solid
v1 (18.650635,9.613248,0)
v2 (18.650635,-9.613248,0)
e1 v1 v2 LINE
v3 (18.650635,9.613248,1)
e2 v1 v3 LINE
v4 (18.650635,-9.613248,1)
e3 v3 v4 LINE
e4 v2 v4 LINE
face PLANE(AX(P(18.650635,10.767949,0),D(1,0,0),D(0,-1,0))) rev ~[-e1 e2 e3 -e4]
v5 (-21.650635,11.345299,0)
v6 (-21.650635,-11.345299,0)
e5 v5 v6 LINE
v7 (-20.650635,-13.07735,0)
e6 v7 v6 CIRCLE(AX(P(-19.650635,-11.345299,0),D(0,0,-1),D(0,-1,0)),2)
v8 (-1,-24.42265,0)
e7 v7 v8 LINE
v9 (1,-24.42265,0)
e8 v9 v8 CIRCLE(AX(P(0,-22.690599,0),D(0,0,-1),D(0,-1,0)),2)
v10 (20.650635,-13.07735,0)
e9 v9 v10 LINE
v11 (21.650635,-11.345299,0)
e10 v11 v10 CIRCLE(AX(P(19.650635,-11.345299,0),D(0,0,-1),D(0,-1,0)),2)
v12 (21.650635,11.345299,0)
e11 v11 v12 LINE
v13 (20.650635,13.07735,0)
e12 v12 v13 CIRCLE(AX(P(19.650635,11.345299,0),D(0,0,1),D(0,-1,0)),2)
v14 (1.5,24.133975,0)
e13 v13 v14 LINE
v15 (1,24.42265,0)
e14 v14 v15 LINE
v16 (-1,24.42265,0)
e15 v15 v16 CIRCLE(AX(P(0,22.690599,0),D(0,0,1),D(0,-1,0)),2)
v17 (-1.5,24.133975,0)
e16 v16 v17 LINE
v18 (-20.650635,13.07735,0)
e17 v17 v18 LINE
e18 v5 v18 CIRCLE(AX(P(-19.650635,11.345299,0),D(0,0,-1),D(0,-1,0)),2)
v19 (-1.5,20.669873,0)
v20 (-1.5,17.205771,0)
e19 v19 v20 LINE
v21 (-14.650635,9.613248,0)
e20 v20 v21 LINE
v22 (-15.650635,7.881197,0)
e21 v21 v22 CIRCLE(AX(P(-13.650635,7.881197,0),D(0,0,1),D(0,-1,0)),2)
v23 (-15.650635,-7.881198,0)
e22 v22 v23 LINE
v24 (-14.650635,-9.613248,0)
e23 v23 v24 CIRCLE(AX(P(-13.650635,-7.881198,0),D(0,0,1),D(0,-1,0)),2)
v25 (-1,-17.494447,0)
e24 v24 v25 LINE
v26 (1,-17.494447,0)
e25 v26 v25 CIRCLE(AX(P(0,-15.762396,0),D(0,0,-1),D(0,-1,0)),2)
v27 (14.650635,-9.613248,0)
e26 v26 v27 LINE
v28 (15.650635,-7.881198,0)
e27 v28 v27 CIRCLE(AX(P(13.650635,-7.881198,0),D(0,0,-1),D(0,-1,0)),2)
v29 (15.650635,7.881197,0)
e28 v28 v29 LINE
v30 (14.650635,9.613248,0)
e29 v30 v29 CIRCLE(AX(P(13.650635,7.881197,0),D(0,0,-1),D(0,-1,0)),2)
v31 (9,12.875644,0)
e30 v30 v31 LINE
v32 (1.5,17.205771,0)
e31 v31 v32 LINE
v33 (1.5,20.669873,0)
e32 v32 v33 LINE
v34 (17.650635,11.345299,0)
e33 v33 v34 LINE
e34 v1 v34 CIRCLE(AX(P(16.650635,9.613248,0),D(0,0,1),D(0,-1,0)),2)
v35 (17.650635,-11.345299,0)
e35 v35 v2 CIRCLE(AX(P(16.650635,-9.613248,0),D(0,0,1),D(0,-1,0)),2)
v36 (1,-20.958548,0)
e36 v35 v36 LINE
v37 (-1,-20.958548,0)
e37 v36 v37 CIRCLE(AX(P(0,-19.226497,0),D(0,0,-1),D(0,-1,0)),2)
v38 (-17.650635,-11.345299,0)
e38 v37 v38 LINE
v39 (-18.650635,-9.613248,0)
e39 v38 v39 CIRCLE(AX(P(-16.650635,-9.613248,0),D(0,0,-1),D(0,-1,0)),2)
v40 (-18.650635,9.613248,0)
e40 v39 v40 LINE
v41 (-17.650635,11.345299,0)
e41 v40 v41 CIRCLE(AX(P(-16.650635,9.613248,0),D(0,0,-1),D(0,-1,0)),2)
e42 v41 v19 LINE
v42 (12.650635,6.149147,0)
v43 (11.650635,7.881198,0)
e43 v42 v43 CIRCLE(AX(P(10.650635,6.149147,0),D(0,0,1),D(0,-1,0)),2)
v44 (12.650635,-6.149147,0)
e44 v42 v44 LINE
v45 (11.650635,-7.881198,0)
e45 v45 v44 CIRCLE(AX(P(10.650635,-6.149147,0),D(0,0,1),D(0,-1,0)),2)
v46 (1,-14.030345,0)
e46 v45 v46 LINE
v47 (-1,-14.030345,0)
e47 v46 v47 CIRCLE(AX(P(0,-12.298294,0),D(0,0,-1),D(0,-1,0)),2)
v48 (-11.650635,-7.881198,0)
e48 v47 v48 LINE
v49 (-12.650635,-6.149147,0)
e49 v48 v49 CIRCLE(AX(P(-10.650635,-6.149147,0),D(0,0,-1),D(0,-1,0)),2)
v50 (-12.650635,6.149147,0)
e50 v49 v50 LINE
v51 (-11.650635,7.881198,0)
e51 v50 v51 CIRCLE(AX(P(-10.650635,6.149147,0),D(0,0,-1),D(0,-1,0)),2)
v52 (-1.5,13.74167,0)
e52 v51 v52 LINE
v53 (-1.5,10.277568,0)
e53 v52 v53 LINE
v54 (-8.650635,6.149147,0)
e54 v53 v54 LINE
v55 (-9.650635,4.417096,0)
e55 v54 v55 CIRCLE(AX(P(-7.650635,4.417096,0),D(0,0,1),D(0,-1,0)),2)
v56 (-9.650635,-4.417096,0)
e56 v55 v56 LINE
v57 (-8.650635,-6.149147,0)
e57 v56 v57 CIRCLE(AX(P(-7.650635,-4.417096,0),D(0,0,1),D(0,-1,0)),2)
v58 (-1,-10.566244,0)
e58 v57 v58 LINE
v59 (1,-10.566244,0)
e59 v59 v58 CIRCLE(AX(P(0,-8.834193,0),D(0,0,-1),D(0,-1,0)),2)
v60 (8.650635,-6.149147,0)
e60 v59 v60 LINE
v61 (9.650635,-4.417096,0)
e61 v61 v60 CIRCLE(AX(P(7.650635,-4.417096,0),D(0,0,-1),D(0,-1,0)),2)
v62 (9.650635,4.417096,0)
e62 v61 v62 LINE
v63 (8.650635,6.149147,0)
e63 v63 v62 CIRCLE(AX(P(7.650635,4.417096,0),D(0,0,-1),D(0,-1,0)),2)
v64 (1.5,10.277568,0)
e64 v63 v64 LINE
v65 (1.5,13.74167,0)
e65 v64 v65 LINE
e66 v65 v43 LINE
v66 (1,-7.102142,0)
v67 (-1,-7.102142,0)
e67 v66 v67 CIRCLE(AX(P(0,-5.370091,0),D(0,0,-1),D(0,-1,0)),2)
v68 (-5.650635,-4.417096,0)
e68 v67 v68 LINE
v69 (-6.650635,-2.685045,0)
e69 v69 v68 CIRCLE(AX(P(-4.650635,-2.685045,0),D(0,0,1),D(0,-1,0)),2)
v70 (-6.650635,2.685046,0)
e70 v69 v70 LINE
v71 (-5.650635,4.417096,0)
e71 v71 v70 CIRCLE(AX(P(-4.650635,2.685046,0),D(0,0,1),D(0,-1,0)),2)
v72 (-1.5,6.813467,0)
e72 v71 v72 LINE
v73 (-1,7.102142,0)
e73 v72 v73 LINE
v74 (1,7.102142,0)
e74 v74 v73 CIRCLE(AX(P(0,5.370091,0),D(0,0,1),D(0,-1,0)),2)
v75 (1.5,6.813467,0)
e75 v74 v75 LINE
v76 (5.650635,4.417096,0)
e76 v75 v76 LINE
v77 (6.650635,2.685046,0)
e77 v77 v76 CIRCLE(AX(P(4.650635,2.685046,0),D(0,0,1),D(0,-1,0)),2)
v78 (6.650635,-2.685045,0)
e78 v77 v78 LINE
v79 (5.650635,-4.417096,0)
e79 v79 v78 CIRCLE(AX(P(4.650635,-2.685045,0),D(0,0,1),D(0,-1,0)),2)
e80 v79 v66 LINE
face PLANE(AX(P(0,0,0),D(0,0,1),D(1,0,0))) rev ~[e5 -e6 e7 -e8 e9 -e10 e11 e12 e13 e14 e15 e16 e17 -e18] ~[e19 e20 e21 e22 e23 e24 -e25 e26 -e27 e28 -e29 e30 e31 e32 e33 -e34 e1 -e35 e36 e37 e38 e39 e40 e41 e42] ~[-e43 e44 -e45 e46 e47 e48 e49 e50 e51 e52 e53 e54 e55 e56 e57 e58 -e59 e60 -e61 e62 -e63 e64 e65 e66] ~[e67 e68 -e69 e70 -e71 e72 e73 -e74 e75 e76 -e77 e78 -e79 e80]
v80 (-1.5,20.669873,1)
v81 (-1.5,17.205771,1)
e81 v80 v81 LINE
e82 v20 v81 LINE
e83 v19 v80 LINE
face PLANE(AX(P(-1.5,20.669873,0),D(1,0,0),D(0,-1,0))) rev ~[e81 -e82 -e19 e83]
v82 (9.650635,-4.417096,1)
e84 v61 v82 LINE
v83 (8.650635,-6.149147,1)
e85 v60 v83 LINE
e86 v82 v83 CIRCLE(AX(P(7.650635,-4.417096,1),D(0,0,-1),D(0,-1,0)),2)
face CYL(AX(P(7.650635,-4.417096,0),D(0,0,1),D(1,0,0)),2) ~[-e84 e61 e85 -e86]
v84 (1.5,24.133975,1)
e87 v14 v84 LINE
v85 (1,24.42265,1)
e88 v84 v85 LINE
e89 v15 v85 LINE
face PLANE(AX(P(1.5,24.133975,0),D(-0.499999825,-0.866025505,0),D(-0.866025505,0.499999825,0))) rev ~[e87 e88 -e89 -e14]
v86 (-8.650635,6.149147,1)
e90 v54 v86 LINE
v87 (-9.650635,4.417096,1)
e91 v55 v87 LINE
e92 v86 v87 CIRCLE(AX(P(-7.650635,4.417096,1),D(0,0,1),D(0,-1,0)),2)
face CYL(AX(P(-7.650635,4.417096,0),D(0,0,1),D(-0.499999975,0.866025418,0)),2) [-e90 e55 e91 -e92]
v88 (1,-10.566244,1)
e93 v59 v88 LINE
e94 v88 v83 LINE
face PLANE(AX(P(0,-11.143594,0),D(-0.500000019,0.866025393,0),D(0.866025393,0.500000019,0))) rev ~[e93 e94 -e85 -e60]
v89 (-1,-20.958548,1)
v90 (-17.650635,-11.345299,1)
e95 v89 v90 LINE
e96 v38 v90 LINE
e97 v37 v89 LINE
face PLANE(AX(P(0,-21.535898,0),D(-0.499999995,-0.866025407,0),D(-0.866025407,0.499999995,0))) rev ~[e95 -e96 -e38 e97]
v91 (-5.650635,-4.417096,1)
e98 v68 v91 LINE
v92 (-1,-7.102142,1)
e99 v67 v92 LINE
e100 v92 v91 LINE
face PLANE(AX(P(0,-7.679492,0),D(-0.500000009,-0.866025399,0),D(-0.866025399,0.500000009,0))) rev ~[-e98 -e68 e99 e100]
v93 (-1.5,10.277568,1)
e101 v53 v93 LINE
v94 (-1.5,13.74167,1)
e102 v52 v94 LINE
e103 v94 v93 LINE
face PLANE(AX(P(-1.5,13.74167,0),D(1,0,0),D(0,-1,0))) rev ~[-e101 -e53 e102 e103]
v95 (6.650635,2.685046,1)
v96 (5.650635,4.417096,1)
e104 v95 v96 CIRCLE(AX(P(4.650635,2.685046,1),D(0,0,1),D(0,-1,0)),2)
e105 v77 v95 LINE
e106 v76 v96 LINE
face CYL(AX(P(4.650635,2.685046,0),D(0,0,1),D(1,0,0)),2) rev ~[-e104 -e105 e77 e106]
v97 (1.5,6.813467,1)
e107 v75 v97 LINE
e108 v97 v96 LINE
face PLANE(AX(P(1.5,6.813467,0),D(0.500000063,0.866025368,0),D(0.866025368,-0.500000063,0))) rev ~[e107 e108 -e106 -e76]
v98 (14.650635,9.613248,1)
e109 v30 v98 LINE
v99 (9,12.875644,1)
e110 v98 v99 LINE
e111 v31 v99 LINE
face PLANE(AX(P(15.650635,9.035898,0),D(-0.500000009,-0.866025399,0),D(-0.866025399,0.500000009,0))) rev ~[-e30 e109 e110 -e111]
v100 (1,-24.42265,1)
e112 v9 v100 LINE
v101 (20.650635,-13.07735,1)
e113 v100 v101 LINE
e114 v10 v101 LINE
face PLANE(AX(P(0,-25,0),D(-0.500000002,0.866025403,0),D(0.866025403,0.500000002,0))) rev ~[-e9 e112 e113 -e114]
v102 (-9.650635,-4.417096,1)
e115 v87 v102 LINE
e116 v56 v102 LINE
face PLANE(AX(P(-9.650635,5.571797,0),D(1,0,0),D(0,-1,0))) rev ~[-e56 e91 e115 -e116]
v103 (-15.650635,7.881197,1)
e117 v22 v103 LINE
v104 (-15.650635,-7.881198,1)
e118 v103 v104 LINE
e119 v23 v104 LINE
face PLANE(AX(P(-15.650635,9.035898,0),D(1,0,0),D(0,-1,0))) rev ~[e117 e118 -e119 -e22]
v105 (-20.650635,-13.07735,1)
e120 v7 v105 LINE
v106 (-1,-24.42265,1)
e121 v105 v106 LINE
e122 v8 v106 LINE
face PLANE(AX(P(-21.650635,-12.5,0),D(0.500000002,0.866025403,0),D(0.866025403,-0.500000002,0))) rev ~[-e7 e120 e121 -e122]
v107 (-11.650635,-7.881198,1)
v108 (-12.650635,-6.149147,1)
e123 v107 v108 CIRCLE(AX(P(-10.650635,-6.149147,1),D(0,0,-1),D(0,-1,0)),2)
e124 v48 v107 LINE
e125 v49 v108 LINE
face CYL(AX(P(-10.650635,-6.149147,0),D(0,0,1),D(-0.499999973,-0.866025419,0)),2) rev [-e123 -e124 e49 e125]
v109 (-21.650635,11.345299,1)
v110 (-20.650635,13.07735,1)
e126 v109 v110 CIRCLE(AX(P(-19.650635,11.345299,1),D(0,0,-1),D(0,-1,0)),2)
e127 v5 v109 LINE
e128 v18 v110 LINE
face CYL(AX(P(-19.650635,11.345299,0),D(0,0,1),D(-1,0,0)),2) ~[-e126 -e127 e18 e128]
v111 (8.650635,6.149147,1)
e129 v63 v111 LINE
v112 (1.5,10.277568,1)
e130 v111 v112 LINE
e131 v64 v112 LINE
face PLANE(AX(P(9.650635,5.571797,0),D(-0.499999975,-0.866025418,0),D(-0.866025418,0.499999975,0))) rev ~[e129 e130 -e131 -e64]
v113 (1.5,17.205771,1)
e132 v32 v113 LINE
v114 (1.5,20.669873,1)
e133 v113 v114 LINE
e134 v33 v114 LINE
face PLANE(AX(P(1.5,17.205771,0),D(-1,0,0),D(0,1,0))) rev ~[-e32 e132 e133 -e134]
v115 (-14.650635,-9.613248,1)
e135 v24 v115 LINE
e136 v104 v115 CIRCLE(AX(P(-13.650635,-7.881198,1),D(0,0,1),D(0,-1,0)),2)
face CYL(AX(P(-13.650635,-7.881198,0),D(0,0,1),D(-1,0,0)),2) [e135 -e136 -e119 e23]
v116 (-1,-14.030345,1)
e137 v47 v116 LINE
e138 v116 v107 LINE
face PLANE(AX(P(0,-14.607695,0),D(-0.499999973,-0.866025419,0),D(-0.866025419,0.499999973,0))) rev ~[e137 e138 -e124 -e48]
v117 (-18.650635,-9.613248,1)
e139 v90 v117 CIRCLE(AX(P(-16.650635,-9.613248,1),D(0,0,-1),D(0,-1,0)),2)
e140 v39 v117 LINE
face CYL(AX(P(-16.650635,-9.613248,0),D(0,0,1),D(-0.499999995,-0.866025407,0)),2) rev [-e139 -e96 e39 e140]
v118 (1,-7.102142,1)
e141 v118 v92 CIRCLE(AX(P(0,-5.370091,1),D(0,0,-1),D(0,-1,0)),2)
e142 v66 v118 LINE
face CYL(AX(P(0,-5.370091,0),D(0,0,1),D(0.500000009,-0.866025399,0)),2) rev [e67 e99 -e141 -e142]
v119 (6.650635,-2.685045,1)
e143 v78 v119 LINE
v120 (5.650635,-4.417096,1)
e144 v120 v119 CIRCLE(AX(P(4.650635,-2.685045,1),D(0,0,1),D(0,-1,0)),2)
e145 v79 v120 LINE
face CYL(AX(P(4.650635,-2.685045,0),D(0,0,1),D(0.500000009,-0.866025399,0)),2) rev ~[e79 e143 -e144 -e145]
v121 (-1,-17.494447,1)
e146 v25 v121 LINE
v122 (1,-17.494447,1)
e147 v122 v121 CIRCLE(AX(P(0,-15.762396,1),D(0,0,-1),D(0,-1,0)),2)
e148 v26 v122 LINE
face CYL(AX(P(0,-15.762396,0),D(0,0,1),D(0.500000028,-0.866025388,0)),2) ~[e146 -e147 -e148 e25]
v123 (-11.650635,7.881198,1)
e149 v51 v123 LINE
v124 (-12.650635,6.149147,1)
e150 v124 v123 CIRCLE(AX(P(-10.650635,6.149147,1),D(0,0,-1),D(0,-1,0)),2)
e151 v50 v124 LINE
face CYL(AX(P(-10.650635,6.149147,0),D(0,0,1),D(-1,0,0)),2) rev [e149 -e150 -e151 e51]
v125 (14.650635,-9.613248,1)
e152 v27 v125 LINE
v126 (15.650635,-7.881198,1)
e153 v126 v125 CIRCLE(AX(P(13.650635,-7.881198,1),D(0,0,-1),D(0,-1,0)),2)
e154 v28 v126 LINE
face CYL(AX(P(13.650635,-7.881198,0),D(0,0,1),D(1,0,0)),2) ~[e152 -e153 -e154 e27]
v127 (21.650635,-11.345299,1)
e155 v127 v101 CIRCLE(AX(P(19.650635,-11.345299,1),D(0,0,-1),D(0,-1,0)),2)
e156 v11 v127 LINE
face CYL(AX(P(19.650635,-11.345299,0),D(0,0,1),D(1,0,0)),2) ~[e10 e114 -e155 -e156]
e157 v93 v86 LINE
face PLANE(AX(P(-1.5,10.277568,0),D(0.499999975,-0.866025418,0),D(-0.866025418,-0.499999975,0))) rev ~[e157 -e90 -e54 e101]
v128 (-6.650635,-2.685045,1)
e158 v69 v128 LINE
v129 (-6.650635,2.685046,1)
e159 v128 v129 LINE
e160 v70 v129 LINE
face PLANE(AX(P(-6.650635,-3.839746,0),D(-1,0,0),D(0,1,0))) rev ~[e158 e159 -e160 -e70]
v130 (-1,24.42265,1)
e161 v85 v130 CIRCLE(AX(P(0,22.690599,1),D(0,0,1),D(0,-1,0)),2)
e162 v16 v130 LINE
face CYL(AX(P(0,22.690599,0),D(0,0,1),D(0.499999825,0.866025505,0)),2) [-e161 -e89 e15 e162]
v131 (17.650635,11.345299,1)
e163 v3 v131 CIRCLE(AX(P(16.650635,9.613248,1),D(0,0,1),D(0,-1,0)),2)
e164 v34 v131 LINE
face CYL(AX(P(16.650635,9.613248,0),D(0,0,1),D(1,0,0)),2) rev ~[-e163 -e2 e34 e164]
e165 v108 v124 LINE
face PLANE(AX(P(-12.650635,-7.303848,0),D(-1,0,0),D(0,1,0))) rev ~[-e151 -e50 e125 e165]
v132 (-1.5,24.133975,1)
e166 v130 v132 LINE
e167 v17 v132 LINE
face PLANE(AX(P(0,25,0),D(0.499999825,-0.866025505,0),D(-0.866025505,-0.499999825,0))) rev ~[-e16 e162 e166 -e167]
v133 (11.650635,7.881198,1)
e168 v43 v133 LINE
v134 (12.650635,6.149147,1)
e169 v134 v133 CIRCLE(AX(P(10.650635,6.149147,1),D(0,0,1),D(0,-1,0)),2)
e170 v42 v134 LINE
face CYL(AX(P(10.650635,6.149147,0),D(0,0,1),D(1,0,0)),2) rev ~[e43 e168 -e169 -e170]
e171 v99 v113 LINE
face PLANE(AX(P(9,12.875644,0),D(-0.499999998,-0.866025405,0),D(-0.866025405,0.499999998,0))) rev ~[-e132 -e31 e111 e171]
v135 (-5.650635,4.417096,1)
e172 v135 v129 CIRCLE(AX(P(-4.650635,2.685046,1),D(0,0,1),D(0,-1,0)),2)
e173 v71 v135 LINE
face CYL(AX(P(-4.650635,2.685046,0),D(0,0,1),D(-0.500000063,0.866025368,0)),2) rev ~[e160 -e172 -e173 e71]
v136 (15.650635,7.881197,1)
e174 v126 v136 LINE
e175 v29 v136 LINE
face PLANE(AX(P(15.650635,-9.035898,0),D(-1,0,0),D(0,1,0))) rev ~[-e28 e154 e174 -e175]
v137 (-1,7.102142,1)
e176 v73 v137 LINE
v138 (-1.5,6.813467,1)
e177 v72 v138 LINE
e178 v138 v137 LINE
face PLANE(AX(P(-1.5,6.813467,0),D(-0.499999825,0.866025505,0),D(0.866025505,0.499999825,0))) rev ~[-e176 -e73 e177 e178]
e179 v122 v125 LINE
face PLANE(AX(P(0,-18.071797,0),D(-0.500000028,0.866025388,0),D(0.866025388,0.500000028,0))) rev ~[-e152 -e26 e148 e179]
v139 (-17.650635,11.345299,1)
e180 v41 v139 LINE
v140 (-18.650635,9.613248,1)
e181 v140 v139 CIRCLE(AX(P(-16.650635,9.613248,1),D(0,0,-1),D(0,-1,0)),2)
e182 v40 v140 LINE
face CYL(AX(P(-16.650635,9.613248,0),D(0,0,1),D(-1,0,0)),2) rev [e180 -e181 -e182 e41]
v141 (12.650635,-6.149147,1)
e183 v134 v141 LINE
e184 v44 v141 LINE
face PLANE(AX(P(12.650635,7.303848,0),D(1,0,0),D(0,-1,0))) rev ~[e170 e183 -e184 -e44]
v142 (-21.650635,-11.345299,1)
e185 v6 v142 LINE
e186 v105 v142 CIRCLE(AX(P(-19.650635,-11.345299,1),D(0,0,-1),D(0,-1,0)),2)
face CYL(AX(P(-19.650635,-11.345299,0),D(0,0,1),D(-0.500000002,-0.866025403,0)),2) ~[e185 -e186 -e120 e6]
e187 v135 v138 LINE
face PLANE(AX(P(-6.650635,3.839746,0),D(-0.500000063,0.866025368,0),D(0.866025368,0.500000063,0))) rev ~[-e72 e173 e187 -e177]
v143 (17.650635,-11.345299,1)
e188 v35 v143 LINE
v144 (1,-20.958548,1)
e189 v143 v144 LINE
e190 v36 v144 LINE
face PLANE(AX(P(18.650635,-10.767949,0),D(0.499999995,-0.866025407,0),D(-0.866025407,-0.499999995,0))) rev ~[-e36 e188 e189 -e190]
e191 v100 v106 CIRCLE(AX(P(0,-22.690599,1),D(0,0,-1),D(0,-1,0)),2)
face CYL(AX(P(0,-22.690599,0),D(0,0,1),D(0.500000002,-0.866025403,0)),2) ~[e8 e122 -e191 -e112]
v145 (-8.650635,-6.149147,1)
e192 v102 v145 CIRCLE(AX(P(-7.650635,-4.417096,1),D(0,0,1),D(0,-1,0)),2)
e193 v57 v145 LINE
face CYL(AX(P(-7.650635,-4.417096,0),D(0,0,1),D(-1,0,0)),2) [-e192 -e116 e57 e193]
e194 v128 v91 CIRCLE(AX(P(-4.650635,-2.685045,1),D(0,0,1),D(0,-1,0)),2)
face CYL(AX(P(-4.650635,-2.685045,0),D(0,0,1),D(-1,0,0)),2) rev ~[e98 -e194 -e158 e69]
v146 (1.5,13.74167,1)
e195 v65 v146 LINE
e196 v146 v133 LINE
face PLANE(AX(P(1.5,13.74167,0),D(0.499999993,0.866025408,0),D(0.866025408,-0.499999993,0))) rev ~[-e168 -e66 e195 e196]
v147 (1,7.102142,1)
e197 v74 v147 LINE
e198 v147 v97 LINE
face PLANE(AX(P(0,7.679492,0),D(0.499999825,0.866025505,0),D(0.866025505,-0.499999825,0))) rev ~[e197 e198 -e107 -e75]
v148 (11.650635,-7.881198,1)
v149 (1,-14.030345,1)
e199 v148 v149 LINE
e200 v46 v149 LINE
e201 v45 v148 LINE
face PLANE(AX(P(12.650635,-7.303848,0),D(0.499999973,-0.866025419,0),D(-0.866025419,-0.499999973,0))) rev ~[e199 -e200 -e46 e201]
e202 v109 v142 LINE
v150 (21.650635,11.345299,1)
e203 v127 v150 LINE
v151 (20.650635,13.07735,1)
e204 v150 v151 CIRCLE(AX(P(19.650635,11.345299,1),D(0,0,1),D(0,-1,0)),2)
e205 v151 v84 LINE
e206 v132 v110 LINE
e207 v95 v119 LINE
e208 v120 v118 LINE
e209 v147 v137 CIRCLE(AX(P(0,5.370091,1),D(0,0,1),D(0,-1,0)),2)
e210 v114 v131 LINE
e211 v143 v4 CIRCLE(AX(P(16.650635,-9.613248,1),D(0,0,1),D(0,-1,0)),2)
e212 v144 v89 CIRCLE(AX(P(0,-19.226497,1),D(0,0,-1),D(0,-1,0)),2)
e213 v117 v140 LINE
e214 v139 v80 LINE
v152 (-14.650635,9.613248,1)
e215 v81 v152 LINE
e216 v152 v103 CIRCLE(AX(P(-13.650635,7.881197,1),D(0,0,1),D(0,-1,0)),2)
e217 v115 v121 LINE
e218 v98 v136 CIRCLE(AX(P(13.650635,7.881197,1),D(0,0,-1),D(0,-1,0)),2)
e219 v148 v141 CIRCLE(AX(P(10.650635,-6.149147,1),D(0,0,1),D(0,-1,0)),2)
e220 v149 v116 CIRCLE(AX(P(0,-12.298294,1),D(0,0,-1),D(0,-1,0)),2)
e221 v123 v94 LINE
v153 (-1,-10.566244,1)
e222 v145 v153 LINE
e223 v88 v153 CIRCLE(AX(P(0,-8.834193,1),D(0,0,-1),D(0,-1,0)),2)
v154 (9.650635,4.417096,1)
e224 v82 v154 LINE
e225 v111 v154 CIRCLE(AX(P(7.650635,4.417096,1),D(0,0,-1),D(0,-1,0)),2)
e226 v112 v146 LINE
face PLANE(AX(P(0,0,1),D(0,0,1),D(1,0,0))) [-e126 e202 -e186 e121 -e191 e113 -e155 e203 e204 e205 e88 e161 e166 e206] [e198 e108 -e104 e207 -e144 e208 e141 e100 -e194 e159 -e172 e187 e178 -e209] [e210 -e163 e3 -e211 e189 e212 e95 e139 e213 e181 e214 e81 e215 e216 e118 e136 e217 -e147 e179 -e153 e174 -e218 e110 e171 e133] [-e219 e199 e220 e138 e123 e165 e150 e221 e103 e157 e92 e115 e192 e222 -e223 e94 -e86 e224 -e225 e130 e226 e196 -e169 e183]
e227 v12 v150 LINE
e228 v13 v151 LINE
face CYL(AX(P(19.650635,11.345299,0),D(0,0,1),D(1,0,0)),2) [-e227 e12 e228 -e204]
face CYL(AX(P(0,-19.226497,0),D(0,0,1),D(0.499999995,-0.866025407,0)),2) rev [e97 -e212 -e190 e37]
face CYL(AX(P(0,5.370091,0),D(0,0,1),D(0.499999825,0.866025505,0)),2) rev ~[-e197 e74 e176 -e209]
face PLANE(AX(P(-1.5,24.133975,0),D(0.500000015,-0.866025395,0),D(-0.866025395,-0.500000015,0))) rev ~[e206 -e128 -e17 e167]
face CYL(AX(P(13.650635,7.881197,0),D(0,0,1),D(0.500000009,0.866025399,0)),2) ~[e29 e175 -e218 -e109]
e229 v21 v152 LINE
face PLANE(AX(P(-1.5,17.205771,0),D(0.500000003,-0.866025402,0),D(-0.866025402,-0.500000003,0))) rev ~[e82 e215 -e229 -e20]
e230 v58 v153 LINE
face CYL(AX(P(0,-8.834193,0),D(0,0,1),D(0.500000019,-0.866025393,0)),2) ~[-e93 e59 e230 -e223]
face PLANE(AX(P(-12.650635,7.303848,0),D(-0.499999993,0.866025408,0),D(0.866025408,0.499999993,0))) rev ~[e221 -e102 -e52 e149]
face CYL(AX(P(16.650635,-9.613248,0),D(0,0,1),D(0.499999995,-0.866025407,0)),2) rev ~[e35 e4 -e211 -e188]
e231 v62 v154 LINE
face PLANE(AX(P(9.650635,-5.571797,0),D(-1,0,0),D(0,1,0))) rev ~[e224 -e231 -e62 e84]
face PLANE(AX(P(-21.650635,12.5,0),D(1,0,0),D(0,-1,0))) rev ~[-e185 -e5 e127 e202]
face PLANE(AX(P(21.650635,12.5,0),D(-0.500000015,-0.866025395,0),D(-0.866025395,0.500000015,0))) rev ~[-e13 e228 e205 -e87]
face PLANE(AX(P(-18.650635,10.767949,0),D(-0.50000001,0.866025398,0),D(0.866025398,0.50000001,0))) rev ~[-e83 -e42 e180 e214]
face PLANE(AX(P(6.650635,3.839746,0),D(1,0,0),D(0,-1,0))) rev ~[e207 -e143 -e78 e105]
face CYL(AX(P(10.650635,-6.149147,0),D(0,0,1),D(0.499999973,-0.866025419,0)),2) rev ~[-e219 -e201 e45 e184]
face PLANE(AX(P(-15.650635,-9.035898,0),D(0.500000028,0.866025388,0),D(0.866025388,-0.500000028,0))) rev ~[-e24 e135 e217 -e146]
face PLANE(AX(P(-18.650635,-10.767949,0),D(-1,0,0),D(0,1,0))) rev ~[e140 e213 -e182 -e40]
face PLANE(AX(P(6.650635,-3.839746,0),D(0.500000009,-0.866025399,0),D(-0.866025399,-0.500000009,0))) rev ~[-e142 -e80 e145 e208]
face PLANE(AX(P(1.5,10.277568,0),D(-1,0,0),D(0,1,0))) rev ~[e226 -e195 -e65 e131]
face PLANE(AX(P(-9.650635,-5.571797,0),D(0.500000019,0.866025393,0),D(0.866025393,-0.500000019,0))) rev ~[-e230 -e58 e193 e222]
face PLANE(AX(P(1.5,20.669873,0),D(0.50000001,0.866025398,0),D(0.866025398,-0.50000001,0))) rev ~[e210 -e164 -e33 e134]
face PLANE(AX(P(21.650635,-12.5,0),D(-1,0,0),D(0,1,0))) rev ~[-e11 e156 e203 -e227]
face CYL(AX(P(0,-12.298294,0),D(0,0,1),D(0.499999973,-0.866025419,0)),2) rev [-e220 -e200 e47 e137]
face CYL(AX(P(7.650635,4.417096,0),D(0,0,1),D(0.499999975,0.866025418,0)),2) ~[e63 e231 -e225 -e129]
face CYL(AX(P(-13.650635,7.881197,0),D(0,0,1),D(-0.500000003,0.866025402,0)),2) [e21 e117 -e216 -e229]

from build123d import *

# Parameters (mm, degrees)
F1_DEPTH = 1
F2_R     = 2


with BuildPart() as f1:
    # F0 (on Top) → F1 (new body)
    with BuildSketch(Plane.XY):
        Polygon((21.650635, -12.5), (21.650635, 12.5), (1.5, 24.133975), (0, 25), (-1.5, 24.133975), (-21.650635, 12.5), (-21.650635, -12.5), (0, -25), align=None)
        Polygon((0, -14.607695), (-12.650635, -7.303848), (-12.650635, 7.303848), (-1.5, 13.74167), (-1.5, 10.277568), (-9.650635, 5.571797), (-9.650635, -5.571797), (0, -11.143594), (9.650635, -5.571797), (9.650635, 5.571797), (1.5, 10.277568), (1.5, 13.74167), (12.650635, 7.303848), (12.650635, -7.303848), align=None, mode=Mode.SUBTRACT)
        Polygon((0, -21.535898), (-18.650635, -10.767949), (-18.650635, 10.767949), (-1.5, 20.669873), (-1.5, 17.205771), (-15.650635, 9.035898), (-15.650635, -9.035898), (0, -18.071797), (15.650635, -9.035898), (15.650635, 9.035898), (9, 12.875644), (1.5, 17.205771), (1.5, 20.669873), (18.650635, 10.767949), (18.650635, -10.767949), align=None, mode=Mode.SUBTRACT)
        Polygon((0, -7.679492), (-6.650635, -3.839746), (-6.650635, 3.839746), (-1.5, 6.813467), (0, 7.679492), (1.5, 6.813467), (6.650635, 3.839746), (6.650635, -3.839746), align=None, mode=Mode.SUBTRACT)
    extrude(amount=F1_DEPTH)

    # F2
    f2_edges = [f1.edges().sort_by_distance(p)[0] for p in [
        (0, 25, 0.5),
        (-21.650635, 12.5, 0.5),
        (-21.650635, -12.5, 0.5),
        (21.650635, 12.5, 0.5),
        (21.650635, -12.5, 0.5),
        (0, -25, 0.5),
        (-18.650635, -10.767949, 0.5),
        (-18.650635, 10.767949, 0.5),
        (18.650635, 10.767949, 0.5),
        (18.650635, -10.767949, 0.5),
        (0, -21.535898, 0.5),
        (0, -14.607695, 0.5),
        (-15.650635, -9.035898, 0.5),
        (-15.650635, 9.035898, 0.5),
        (-9.650635, 5.571797, 0.5),
        (-9.650635, -5.571797, 0.5),
        (0, -11.143594, 0.5),
        (9.650635, -5.571797, 0.5),
        (9.650635, 5.571797, 0.5),
        (12.650635, 7.303848, 0.5),
        (-12.650635, -7.303848, 0.5),
        (-6.650635, 3.839746, 0.5),
        (-6.650635, -3.839746, 0.5),
        (-12.650635, 7.303848, 0.5),
        (0, 7.679492, 0.5),
        (6.650635, 3.839746, 0.5),
        (6.650635, -3.839746, 0.5),
        (0, -7.679492, 0.5),
        (12.650635, -7.303848, 0.5),
        (15.650635, -9.035898, 0.5),
        (0, -18.071797, 0.5),
        (15.650635, 9.035898, 0.5),
    ]]
    fillet(f2_edges, radius=F2_R)


solid = f1.part
